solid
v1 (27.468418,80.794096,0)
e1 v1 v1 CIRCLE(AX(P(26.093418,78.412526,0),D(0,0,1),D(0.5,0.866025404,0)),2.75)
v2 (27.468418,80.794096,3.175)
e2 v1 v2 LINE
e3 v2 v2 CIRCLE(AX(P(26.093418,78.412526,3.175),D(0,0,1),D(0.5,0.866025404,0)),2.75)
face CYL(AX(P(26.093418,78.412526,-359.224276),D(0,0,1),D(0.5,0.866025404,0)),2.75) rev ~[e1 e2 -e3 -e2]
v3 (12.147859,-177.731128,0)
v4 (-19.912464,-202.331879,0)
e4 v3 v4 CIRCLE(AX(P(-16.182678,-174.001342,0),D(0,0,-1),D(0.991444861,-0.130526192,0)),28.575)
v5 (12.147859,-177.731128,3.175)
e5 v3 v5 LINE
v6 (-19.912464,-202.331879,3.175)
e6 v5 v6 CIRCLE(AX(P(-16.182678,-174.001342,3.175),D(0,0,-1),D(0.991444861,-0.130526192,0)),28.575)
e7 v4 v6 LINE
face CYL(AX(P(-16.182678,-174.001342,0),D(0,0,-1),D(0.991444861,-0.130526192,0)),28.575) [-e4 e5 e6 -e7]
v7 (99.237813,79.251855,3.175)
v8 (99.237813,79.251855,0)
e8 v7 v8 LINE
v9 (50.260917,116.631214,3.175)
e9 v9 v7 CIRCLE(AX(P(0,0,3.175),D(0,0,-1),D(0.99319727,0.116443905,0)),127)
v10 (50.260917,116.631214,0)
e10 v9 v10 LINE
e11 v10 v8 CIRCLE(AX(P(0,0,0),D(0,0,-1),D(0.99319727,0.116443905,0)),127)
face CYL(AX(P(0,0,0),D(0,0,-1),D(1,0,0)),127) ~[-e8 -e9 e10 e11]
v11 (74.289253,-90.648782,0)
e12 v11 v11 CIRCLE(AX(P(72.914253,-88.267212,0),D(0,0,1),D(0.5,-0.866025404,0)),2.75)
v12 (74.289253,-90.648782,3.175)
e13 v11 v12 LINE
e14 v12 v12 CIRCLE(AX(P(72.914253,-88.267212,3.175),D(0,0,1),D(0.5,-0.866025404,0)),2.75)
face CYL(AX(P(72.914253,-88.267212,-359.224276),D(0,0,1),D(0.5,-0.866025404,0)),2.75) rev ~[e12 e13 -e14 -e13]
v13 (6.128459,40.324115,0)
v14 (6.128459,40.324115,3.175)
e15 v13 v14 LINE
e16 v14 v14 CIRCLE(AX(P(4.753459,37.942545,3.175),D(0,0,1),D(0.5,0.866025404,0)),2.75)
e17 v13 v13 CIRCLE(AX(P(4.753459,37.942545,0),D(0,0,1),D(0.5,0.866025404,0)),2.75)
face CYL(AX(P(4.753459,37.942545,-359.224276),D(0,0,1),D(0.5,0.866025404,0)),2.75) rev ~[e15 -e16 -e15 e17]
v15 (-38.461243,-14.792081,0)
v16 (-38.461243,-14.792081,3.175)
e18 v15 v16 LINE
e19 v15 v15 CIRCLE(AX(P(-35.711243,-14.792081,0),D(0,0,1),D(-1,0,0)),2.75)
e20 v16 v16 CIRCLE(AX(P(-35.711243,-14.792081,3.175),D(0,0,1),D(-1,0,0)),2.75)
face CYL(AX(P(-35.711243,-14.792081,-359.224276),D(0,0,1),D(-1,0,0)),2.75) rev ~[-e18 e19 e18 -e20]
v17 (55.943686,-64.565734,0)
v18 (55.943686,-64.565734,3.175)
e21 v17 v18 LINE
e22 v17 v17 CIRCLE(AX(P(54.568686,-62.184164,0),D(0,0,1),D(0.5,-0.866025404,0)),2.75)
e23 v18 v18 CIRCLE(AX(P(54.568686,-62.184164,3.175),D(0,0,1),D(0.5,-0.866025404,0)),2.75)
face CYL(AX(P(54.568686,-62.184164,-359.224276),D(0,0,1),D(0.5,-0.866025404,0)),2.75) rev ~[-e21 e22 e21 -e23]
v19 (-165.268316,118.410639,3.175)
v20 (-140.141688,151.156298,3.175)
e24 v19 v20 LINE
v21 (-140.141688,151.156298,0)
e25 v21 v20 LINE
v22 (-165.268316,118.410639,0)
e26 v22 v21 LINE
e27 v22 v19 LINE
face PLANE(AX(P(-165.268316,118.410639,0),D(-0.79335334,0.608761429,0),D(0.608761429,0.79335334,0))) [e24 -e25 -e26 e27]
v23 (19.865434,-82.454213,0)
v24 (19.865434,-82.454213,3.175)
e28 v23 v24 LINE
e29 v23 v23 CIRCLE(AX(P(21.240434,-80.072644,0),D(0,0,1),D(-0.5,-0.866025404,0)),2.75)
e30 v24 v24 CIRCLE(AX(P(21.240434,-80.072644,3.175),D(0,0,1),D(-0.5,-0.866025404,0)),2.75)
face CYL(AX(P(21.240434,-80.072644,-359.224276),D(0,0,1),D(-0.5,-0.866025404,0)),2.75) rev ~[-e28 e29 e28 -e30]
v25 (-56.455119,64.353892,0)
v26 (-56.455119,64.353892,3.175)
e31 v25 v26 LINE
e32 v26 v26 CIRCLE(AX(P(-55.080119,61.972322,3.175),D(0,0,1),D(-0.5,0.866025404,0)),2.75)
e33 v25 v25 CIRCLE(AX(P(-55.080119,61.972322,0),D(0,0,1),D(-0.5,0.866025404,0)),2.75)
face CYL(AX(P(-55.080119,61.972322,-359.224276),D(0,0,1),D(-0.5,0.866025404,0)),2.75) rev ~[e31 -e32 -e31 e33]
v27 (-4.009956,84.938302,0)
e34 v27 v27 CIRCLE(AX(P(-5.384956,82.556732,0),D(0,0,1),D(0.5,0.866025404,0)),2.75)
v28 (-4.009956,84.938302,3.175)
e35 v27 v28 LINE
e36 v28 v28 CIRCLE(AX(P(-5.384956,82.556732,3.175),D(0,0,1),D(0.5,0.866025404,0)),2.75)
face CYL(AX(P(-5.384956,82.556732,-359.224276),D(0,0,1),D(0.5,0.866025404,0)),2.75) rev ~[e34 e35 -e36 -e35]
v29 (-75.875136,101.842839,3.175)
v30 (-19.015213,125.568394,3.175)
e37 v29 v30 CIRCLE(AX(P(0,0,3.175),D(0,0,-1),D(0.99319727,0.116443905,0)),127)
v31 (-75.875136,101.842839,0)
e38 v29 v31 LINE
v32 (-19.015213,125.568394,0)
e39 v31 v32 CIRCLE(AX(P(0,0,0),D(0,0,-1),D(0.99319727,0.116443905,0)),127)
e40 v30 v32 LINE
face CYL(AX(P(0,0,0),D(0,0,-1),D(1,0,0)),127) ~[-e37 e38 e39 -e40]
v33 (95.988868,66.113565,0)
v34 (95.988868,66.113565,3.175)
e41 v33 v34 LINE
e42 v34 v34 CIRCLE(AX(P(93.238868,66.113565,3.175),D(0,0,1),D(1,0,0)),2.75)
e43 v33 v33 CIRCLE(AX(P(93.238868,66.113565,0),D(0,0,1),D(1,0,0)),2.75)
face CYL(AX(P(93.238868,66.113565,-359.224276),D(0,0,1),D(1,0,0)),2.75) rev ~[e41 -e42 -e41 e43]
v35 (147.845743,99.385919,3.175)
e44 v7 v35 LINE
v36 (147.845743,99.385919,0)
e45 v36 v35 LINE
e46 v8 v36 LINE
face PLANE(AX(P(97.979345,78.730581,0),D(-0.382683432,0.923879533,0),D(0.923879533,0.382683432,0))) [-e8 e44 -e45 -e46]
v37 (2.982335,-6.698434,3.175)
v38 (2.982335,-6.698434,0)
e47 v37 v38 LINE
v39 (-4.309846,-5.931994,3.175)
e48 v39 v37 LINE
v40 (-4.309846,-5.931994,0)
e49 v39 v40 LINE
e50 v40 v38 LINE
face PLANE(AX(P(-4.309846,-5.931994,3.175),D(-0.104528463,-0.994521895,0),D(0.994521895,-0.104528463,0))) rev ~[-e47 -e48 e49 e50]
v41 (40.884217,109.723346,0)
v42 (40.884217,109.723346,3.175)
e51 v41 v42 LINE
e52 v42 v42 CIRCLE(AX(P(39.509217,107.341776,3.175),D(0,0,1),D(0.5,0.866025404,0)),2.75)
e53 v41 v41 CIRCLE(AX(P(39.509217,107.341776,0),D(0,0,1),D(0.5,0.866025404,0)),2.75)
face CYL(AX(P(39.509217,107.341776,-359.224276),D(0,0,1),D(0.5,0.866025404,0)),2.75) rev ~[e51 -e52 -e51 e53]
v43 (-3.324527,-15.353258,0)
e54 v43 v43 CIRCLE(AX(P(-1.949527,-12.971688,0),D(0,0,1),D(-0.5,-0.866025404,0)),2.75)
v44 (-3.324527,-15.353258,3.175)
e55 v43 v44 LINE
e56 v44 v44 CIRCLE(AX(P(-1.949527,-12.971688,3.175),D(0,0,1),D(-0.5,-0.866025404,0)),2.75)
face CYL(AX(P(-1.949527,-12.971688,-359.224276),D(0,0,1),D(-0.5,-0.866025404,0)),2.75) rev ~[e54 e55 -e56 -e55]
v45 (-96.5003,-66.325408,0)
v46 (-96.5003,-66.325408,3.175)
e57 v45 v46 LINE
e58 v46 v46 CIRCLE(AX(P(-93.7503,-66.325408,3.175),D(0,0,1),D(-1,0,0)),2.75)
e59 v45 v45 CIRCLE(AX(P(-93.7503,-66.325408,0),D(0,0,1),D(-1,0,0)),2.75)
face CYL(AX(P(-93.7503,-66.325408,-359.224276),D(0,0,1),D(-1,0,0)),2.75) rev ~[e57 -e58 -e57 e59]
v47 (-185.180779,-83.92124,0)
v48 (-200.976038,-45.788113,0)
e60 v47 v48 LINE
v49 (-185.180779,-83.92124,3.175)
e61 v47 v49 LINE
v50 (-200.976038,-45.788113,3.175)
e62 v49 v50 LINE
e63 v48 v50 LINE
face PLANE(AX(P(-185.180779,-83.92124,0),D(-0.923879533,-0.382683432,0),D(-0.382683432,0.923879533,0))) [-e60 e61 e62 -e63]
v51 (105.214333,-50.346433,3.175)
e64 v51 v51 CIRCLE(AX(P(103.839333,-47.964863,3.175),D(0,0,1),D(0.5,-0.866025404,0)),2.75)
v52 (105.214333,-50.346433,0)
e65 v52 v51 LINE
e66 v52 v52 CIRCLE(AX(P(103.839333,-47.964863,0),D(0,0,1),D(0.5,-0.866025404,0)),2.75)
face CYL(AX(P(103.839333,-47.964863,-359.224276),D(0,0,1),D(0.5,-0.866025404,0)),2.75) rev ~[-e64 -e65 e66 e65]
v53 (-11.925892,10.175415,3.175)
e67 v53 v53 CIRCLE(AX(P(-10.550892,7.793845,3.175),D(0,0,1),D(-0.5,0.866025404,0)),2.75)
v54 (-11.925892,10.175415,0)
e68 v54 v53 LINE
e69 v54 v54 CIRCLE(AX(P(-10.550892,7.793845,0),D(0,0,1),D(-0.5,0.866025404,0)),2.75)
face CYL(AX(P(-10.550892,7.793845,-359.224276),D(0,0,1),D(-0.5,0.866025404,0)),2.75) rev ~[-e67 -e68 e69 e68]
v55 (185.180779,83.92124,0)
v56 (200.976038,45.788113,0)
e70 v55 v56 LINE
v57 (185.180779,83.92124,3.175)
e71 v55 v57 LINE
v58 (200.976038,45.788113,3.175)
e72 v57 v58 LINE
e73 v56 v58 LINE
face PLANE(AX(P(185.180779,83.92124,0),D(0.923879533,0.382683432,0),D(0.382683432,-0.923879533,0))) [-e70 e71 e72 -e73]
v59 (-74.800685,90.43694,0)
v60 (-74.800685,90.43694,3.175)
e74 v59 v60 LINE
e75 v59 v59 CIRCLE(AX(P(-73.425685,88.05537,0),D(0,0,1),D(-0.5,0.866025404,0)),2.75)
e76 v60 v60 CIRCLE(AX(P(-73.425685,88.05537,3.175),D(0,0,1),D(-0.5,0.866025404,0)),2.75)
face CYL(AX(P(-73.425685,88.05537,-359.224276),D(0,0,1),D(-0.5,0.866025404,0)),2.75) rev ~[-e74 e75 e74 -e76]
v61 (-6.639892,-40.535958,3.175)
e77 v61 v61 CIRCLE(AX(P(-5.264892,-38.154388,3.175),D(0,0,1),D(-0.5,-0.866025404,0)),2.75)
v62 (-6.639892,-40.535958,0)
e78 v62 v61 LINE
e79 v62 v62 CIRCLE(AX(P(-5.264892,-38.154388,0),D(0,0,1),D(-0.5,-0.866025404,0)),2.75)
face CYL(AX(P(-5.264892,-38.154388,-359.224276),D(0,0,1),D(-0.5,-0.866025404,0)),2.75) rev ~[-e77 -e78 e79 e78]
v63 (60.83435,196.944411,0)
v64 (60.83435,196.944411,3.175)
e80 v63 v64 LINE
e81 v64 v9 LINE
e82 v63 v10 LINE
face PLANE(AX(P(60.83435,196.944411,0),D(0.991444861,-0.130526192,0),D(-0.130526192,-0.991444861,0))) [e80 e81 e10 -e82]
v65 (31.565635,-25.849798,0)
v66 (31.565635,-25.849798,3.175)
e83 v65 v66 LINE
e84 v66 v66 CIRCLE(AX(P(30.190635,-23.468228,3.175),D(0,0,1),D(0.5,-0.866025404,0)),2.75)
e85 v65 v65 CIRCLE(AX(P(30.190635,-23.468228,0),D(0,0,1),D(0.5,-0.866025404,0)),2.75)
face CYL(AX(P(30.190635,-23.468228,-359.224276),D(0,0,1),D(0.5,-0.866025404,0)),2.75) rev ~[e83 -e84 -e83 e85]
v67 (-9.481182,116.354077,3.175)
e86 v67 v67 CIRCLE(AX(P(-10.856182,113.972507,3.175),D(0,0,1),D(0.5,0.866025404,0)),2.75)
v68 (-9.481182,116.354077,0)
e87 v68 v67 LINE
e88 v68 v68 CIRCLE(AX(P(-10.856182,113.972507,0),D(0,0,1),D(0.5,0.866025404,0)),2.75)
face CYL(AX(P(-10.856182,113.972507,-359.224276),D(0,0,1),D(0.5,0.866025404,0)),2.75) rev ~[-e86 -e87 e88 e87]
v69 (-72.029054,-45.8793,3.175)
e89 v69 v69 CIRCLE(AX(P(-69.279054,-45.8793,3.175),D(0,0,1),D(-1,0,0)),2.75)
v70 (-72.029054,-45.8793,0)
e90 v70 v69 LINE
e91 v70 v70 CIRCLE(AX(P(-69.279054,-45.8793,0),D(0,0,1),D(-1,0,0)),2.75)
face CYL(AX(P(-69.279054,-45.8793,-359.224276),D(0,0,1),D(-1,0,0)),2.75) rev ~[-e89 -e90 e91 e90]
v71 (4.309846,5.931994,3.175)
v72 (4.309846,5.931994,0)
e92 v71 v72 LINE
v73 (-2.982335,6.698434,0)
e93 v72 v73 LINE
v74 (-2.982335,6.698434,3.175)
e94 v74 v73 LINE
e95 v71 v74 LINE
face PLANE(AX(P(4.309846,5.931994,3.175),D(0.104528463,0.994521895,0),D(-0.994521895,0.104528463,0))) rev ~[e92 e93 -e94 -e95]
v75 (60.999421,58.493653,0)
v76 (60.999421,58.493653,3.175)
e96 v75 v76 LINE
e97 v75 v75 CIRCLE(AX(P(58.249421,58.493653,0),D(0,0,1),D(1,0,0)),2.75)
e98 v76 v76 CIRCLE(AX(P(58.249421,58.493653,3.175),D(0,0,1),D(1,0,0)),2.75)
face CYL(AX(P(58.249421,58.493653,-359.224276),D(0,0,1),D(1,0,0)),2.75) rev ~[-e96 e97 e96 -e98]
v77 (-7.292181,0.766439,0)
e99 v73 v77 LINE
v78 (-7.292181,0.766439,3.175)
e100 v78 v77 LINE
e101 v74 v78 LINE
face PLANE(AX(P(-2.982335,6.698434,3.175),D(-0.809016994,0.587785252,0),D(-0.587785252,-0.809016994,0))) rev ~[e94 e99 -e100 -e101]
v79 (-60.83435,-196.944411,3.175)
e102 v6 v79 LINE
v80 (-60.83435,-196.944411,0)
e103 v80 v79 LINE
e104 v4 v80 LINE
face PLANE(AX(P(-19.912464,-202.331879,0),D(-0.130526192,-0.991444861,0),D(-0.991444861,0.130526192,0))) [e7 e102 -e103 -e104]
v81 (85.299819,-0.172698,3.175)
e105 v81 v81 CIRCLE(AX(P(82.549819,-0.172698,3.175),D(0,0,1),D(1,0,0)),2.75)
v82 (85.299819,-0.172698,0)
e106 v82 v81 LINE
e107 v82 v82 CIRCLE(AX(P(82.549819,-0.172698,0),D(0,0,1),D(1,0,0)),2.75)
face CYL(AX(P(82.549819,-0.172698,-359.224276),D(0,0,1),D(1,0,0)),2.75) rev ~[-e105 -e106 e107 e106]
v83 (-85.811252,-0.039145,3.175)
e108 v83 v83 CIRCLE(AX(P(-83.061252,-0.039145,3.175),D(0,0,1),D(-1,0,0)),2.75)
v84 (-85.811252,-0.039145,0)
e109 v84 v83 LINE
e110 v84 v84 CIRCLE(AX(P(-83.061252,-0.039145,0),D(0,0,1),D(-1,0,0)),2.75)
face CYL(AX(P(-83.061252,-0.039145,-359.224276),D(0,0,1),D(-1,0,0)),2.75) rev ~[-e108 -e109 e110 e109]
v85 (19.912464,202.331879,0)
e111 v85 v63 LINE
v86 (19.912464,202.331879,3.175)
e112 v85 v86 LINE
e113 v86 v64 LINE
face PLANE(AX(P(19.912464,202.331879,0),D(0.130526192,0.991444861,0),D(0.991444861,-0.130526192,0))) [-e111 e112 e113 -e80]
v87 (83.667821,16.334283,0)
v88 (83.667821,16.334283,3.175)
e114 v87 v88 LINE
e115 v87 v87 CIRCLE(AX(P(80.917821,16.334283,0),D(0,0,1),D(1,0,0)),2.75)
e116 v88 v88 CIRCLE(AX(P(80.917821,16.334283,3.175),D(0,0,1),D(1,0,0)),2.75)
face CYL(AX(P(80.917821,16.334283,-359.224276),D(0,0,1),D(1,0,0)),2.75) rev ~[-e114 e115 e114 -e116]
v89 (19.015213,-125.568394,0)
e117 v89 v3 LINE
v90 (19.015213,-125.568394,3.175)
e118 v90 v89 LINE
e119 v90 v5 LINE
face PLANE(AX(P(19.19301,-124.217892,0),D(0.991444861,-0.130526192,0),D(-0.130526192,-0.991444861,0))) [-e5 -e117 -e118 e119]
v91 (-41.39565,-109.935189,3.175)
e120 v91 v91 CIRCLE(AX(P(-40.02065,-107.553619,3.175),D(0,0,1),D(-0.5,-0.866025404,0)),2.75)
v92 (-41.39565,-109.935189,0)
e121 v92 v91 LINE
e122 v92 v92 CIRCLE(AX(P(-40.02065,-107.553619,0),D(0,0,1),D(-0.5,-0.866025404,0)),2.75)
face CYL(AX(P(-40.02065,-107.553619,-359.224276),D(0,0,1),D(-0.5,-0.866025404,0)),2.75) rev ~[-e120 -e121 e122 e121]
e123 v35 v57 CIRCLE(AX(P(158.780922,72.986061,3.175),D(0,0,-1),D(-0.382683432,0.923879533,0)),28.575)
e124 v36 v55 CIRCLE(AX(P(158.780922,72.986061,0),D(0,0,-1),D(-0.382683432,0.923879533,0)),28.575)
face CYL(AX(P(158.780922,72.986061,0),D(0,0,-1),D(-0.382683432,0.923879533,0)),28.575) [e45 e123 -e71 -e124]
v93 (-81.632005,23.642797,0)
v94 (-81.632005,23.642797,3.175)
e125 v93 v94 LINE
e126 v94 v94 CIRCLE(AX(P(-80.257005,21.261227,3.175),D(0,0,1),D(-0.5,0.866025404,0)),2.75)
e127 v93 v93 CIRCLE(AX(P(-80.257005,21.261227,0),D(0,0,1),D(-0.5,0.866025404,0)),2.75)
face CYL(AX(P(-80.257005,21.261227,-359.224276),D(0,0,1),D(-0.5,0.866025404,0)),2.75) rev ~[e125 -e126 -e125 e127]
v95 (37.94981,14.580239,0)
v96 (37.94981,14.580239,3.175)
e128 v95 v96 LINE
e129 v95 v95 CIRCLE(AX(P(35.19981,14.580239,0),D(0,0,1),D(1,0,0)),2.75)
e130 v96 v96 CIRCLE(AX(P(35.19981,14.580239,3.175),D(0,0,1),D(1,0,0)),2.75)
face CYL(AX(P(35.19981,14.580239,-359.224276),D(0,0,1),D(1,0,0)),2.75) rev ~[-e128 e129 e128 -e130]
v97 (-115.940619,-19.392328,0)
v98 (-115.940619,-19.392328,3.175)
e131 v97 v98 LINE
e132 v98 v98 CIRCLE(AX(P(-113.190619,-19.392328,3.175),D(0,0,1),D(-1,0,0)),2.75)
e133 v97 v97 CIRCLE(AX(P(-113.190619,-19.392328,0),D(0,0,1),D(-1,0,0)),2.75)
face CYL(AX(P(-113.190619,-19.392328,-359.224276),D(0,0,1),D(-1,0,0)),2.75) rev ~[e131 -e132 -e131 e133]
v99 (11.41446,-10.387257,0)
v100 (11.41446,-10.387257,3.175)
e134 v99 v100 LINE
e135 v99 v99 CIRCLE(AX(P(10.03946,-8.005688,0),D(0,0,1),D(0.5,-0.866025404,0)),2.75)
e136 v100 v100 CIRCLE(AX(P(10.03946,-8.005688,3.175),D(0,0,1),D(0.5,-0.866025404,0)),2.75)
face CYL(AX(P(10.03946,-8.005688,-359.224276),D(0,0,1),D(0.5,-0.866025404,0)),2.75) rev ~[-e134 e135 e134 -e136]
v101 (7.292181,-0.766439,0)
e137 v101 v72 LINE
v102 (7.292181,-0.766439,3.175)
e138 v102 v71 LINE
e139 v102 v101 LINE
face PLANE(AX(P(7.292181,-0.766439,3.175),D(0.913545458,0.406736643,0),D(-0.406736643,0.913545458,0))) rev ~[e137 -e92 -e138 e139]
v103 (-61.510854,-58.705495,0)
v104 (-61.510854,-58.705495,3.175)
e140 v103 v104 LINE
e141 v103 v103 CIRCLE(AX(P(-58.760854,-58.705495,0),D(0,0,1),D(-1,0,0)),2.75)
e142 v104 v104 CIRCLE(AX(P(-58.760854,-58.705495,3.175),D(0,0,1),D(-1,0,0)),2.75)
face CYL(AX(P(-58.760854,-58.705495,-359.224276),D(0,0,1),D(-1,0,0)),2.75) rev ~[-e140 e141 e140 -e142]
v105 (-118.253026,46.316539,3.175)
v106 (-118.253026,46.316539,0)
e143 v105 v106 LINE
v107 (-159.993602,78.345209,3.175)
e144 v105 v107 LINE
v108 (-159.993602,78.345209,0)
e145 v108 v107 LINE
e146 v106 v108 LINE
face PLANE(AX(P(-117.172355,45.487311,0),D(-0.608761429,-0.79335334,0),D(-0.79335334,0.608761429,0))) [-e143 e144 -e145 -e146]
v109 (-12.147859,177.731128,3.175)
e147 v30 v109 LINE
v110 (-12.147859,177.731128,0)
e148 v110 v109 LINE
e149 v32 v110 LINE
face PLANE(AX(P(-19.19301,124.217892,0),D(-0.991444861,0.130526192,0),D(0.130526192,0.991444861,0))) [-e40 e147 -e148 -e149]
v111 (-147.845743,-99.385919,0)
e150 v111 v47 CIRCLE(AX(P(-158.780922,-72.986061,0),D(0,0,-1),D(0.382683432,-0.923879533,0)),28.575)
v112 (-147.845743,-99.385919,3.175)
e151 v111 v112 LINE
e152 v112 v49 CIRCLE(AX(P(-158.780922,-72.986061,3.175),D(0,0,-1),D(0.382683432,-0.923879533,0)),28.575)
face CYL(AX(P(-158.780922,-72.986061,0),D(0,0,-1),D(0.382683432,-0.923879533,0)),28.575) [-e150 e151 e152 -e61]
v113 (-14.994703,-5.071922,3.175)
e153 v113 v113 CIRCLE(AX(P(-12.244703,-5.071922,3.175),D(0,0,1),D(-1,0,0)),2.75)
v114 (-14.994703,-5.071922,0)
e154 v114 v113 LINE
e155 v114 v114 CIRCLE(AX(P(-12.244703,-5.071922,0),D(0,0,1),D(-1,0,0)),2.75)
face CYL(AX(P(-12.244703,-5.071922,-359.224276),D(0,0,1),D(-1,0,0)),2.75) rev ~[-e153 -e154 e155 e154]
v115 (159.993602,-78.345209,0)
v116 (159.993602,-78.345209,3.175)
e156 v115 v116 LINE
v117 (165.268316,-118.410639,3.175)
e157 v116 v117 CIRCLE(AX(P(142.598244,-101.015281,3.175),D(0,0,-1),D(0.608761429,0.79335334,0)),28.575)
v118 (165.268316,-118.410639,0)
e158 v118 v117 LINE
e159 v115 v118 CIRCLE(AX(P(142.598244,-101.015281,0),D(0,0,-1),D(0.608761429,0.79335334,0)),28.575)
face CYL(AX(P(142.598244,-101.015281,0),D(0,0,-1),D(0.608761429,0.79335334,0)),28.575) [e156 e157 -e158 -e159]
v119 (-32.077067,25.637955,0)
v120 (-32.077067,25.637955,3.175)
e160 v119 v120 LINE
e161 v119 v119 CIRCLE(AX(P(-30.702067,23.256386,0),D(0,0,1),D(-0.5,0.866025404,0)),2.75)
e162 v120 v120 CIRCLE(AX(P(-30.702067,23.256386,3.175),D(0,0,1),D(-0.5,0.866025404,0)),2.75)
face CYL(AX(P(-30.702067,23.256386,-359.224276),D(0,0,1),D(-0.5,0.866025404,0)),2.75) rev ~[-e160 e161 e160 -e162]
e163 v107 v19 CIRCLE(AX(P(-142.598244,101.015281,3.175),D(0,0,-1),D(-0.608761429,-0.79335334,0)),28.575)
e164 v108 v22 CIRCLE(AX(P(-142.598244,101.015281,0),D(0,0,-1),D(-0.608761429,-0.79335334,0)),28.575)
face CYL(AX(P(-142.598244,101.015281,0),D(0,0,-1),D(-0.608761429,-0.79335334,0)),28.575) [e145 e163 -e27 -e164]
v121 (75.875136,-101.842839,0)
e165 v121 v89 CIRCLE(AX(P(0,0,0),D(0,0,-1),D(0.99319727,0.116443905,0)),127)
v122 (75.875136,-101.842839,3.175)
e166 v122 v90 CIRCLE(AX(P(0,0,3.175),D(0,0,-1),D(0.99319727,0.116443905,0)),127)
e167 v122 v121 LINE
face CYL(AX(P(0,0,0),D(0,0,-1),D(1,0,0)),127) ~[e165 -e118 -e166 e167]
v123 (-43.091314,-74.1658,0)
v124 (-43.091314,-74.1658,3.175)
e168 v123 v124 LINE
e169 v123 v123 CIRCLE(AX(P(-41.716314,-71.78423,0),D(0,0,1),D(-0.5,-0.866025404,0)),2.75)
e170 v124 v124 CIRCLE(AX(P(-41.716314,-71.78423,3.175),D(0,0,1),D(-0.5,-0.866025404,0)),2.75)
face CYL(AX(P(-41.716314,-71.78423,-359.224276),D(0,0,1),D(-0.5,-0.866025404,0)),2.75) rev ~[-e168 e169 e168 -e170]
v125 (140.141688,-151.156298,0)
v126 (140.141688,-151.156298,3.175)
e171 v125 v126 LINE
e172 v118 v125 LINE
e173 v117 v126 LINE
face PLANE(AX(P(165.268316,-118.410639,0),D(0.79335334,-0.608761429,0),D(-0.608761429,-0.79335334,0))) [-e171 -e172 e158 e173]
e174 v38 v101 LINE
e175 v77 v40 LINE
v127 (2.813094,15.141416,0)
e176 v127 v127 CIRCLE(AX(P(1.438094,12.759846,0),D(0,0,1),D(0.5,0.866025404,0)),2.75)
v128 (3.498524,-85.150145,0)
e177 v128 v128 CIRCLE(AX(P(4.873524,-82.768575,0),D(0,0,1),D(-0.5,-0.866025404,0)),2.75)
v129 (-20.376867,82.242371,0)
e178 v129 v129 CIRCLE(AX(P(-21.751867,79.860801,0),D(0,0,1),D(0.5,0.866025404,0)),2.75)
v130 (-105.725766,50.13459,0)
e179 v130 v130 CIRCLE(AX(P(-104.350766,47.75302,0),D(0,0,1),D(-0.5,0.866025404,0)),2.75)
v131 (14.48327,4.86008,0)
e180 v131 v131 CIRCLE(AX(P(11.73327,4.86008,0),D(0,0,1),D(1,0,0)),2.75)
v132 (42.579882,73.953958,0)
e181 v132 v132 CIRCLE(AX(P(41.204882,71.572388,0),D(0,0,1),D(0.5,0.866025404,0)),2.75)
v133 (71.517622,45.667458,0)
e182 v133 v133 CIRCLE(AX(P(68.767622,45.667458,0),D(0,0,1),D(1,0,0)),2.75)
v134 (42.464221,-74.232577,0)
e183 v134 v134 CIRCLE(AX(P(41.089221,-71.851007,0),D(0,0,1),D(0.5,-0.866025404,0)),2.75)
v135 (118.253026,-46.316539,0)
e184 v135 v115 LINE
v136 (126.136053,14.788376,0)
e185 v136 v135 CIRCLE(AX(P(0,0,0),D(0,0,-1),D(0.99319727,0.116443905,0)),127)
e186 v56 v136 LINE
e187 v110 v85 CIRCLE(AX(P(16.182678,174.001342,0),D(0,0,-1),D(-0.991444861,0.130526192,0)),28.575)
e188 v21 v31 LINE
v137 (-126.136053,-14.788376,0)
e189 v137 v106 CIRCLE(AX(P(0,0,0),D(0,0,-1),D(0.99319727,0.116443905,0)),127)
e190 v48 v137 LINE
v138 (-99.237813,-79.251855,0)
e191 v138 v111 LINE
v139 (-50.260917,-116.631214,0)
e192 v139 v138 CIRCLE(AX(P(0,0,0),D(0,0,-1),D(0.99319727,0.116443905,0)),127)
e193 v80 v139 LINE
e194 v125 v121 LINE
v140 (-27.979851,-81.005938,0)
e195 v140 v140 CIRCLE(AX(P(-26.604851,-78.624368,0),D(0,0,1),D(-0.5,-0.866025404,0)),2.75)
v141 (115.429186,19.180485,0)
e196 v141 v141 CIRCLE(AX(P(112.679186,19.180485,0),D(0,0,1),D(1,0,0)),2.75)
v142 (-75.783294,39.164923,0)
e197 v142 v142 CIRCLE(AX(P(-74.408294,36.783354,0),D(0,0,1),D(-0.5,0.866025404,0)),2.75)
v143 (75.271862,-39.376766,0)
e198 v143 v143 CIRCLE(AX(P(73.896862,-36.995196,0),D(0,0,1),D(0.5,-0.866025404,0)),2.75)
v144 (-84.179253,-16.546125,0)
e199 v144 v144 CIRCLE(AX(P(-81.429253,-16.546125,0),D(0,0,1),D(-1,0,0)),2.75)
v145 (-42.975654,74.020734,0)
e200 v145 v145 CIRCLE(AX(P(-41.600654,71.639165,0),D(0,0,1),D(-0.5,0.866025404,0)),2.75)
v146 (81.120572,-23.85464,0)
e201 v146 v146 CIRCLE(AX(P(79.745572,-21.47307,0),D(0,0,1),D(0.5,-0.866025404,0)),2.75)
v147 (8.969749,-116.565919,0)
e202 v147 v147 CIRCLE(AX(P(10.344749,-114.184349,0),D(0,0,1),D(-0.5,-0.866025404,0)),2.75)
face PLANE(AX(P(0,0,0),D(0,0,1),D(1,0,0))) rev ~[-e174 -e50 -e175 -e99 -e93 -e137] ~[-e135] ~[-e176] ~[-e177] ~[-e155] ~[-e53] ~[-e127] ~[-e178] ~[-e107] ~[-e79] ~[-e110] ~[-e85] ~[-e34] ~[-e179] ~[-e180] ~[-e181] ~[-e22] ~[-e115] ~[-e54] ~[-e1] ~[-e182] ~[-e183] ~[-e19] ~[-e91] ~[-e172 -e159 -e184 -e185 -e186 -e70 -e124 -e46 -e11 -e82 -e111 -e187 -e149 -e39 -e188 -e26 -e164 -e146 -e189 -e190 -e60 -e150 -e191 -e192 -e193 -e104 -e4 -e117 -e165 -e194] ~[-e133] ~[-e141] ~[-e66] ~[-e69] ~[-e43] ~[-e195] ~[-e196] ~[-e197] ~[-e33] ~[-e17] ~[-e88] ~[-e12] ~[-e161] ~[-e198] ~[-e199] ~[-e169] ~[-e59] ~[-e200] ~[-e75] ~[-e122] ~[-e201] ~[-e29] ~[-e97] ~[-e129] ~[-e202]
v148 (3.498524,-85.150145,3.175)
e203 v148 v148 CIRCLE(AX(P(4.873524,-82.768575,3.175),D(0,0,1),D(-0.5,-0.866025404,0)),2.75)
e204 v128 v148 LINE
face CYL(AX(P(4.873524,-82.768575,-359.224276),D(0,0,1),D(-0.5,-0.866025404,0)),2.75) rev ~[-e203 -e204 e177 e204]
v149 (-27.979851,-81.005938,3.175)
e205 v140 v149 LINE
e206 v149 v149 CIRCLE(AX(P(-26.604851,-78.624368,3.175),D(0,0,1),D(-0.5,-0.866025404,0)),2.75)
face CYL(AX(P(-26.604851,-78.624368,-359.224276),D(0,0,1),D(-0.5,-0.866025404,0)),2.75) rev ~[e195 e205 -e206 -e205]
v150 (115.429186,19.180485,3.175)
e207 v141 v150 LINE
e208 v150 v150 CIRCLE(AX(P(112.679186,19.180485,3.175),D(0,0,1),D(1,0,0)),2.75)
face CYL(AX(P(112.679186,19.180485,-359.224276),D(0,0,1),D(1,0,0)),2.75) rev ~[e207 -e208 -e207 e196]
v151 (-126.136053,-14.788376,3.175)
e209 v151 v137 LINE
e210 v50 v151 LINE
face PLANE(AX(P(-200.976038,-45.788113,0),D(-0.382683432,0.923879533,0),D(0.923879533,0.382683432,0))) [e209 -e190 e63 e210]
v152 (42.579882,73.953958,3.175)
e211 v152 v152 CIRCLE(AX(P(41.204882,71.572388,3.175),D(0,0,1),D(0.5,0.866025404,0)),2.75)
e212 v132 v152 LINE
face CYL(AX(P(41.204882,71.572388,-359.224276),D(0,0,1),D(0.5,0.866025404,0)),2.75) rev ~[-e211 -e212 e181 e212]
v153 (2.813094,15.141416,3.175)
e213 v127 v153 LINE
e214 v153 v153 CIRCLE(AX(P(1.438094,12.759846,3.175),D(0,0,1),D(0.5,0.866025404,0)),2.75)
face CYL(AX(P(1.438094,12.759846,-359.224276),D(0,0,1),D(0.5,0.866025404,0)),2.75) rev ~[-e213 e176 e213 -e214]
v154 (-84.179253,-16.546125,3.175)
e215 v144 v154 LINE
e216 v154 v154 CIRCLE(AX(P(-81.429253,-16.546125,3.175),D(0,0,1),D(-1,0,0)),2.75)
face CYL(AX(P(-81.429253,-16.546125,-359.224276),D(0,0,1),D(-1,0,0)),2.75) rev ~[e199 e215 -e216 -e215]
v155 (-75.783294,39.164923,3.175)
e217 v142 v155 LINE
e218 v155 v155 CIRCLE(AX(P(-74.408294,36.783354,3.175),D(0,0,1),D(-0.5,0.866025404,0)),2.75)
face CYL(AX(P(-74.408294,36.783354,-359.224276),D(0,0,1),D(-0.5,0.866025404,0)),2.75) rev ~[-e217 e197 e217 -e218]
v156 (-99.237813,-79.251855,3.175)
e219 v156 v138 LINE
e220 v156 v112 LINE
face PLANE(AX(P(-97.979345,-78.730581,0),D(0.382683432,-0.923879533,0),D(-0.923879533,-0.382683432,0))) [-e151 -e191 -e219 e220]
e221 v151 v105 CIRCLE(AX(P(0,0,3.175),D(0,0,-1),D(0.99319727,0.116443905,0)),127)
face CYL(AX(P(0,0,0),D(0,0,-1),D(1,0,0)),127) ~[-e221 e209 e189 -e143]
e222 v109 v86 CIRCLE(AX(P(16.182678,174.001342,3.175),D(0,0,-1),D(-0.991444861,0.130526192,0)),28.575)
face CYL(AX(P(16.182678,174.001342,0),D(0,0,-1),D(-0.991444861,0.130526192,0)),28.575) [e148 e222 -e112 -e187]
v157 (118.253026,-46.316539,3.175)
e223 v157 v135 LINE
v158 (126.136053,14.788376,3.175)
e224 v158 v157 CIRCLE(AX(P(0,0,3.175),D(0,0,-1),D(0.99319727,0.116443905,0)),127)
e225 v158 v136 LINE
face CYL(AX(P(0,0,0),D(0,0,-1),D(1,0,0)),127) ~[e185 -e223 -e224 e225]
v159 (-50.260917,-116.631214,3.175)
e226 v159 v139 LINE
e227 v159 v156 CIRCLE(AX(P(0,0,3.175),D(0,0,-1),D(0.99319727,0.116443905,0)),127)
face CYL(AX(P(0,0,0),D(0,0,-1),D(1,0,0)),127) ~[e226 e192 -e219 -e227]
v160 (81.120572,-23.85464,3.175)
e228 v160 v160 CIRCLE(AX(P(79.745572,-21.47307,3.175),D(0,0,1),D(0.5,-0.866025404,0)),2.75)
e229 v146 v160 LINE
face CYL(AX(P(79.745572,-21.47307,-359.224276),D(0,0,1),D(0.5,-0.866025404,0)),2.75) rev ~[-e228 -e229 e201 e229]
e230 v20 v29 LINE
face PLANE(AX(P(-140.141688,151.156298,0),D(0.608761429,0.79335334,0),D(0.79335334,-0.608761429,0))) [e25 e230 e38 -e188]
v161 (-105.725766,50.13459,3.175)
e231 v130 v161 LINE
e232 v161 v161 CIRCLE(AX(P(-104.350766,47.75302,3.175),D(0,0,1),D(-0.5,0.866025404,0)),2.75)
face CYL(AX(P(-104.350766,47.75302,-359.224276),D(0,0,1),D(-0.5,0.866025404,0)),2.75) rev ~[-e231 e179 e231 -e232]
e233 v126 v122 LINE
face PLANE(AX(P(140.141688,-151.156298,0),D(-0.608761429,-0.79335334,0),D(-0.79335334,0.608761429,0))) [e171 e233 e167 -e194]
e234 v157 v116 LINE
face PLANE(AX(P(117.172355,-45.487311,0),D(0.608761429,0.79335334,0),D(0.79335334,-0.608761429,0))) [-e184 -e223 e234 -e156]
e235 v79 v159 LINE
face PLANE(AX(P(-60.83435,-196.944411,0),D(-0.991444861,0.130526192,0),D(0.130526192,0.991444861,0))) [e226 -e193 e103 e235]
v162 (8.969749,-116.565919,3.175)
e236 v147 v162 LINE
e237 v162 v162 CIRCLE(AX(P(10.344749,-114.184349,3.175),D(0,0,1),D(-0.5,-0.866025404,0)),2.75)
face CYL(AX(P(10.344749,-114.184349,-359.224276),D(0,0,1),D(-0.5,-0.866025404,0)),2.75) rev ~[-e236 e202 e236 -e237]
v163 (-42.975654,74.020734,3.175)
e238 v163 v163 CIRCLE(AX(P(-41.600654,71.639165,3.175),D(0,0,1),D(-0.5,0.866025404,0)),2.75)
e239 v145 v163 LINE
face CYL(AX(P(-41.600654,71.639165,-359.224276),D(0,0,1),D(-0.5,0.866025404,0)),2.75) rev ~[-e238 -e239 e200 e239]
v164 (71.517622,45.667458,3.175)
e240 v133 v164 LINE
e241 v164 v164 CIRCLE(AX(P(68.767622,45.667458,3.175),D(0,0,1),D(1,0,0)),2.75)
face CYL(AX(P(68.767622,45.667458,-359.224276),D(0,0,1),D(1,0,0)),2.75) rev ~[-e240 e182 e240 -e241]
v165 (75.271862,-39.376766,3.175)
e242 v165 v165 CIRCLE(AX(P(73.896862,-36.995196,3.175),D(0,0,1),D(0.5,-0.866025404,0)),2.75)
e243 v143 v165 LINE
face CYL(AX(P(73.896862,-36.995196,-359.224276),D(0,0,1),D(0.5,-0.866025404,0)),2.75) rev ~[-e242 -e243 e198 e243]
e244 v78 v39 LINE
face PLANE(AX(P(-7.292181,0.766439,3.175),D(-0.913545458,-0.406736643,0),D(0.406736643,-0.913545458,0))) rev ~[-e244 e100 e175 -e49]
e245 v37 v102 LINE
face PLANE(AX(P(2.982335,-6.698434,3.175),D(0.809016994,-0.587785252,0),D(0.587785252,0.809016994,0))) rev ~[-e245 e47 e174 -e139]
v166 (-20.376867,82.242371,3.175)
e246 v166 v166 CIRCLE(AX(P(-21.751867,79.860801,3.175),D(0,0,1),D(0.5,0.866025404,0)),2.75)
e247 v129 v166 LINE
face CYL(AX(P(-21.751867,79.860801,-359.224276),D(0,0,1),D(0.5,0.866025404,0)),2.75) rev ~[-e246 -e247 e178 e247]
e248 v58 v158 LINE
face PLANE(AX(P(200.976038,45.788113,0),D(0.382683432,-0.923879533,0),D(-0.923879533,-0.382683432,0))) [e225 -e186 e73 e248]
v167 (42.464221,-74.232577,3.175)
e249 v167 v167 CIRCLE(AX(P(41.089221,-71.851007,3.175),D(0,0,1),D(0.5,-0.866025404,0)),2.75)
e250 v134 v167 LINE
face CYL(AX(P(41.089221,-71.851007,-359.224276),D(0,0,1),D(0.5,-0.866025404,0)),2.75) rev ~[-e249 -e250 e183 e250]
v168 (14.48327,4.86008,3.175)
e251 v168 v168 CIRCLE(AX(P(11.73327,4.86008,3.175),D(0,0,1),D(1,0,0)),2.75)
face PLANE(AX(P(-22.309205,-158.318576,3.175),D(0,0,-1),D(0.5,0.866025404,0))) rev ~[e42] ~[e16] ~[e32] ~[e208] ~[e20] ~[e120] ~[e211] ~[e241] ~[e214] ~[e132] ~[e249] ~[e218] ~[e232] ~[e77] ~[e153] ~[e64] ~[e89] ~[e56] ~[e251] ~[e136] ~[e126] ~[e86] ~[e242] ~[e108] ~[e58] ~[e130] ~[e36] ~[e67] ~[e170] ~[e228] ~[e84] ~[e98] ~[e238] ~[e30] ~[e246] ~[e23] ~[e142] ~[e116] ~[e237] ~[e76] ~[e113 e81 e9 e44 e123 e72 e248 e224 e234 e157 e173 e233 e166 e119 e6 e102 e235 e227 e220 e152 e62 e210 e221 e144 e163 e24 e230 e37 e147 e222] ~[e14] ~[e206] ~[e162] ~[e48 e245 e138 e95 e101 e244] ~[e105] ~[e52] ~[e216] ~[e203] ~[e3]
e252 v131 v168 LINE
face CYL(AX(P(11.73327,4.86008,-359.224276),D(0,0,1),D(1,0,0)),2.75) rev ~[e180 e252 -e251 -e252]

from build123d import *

# Parameters (mm, degrees)
SKETCH1_R            = 127
BOSS_EXTRUDE1_DEPTH  = 3.175
M5_CLEARANCE_HOLE1_D = 5.5
CIRPATTERN1_COUNT    = 6
BOSS_EXTRUDE2_DEPTH  = 3.175
CIRPATTERN2_COUNT    = 6
CUT_EXTRUDE1_DEPTH   = 286.374530912


with BuildPart() as part:
    # Sketch1 → Boss-Extrude1 (new body)
    with BuildSketch(Plane.XY):
        Circle(SKETCH1_R)
    extrude(amount=BOSS_EXTRUDE1_DEPTH)

    # M5 Clearance Hole1 (through all)
    with Locations(Plane(origin=(0, 0, 0), x_dir=(-1, 0, 0), z_dir=(0, 0, -1))):
        with Locations((-58.2494214, 58.493652703), (-82.549819355, -0.172697611), (-93.238867767, 66.113565457), (-112.679186132, 19.180485205), (-11.733270063, 4.860079591), (-68.767621753, 45.667457762), (-80.917820731, 16.334282605), (-35.199810189, 14.580238773)):
            m5_clearance_hole1 = Hole(M5_CLEARANCE_HOLE1_D / 2)

    # CirPattern1: M5 Clearance Hole1 ×6 about axis
    cirpattern1_axis = Axis((-0.255716285, -0.105921153, 0), (0, 0, 1))
    for i in range(1, CIRPATTERN1_COUNT):
        add(m5_clearance_hole1.rotate(cirpattern1_axis, i * 360 / CIRPATTERN1_COUNT), mode=Mode.SUBTRACT)

    # Sketch6 → Boss-Extrude2 (add)
    with BuildSketch(Plane(origin=(0, 0, 0), x_dir=(-1, 0, 0), z_dir=(0, 0, -1))):
        with BuildLine():
            Line((-97.979344732, 78.730580539), (-147.8457425, 99.385918801))
            ThreePointArc((-147.8457425, 99.385918801), (-169.716100659, 99.385918801), (-185.180779221, 83.92124024))
            Line((-185.180779221, 83.92124024), (-200.976037892, 45.788112535))
            Line((-200.976037892, 45.788112535), (-124.709782483, 14.197595193))
            Line((-124.709782483, 14.197595193), (-97.979344732, 78.730580539))
        make_face()
    boss_extrude2 = extrude(amount=-BOSS_EXTRUDE2_DEPTH)

    # CirPattern2: Boss-Extrude2 ×6 about axis
    cirpattern2_axis = Axis((0, 0, 0), (0, 0, 1))
    for i in range(1, CIRPATTERN2_COUNT):
        add(boss_extrude2.rotate(cirpattern2_axis, i * 360 / CIRPATTERN2_COUNT))

    # Sketch7 → Cut-Extrude1 (cut, through all)
    with BuildSketch(Plane.XY.offset(3.175)):
        Polygon((7.292181047, -0.766439112), (4.309846265, 5.931994479), (-2.982334782, 6.698433592), (-7.292181047, 0.766439112), (-4.309846265, -5.931994479), (2.982334782, -6.698433592), align=None)
    extrude(amount=-CUT_EXTRUDE1_DEPTH, mode=Mode.SUBTRACT)


solid = part.part
